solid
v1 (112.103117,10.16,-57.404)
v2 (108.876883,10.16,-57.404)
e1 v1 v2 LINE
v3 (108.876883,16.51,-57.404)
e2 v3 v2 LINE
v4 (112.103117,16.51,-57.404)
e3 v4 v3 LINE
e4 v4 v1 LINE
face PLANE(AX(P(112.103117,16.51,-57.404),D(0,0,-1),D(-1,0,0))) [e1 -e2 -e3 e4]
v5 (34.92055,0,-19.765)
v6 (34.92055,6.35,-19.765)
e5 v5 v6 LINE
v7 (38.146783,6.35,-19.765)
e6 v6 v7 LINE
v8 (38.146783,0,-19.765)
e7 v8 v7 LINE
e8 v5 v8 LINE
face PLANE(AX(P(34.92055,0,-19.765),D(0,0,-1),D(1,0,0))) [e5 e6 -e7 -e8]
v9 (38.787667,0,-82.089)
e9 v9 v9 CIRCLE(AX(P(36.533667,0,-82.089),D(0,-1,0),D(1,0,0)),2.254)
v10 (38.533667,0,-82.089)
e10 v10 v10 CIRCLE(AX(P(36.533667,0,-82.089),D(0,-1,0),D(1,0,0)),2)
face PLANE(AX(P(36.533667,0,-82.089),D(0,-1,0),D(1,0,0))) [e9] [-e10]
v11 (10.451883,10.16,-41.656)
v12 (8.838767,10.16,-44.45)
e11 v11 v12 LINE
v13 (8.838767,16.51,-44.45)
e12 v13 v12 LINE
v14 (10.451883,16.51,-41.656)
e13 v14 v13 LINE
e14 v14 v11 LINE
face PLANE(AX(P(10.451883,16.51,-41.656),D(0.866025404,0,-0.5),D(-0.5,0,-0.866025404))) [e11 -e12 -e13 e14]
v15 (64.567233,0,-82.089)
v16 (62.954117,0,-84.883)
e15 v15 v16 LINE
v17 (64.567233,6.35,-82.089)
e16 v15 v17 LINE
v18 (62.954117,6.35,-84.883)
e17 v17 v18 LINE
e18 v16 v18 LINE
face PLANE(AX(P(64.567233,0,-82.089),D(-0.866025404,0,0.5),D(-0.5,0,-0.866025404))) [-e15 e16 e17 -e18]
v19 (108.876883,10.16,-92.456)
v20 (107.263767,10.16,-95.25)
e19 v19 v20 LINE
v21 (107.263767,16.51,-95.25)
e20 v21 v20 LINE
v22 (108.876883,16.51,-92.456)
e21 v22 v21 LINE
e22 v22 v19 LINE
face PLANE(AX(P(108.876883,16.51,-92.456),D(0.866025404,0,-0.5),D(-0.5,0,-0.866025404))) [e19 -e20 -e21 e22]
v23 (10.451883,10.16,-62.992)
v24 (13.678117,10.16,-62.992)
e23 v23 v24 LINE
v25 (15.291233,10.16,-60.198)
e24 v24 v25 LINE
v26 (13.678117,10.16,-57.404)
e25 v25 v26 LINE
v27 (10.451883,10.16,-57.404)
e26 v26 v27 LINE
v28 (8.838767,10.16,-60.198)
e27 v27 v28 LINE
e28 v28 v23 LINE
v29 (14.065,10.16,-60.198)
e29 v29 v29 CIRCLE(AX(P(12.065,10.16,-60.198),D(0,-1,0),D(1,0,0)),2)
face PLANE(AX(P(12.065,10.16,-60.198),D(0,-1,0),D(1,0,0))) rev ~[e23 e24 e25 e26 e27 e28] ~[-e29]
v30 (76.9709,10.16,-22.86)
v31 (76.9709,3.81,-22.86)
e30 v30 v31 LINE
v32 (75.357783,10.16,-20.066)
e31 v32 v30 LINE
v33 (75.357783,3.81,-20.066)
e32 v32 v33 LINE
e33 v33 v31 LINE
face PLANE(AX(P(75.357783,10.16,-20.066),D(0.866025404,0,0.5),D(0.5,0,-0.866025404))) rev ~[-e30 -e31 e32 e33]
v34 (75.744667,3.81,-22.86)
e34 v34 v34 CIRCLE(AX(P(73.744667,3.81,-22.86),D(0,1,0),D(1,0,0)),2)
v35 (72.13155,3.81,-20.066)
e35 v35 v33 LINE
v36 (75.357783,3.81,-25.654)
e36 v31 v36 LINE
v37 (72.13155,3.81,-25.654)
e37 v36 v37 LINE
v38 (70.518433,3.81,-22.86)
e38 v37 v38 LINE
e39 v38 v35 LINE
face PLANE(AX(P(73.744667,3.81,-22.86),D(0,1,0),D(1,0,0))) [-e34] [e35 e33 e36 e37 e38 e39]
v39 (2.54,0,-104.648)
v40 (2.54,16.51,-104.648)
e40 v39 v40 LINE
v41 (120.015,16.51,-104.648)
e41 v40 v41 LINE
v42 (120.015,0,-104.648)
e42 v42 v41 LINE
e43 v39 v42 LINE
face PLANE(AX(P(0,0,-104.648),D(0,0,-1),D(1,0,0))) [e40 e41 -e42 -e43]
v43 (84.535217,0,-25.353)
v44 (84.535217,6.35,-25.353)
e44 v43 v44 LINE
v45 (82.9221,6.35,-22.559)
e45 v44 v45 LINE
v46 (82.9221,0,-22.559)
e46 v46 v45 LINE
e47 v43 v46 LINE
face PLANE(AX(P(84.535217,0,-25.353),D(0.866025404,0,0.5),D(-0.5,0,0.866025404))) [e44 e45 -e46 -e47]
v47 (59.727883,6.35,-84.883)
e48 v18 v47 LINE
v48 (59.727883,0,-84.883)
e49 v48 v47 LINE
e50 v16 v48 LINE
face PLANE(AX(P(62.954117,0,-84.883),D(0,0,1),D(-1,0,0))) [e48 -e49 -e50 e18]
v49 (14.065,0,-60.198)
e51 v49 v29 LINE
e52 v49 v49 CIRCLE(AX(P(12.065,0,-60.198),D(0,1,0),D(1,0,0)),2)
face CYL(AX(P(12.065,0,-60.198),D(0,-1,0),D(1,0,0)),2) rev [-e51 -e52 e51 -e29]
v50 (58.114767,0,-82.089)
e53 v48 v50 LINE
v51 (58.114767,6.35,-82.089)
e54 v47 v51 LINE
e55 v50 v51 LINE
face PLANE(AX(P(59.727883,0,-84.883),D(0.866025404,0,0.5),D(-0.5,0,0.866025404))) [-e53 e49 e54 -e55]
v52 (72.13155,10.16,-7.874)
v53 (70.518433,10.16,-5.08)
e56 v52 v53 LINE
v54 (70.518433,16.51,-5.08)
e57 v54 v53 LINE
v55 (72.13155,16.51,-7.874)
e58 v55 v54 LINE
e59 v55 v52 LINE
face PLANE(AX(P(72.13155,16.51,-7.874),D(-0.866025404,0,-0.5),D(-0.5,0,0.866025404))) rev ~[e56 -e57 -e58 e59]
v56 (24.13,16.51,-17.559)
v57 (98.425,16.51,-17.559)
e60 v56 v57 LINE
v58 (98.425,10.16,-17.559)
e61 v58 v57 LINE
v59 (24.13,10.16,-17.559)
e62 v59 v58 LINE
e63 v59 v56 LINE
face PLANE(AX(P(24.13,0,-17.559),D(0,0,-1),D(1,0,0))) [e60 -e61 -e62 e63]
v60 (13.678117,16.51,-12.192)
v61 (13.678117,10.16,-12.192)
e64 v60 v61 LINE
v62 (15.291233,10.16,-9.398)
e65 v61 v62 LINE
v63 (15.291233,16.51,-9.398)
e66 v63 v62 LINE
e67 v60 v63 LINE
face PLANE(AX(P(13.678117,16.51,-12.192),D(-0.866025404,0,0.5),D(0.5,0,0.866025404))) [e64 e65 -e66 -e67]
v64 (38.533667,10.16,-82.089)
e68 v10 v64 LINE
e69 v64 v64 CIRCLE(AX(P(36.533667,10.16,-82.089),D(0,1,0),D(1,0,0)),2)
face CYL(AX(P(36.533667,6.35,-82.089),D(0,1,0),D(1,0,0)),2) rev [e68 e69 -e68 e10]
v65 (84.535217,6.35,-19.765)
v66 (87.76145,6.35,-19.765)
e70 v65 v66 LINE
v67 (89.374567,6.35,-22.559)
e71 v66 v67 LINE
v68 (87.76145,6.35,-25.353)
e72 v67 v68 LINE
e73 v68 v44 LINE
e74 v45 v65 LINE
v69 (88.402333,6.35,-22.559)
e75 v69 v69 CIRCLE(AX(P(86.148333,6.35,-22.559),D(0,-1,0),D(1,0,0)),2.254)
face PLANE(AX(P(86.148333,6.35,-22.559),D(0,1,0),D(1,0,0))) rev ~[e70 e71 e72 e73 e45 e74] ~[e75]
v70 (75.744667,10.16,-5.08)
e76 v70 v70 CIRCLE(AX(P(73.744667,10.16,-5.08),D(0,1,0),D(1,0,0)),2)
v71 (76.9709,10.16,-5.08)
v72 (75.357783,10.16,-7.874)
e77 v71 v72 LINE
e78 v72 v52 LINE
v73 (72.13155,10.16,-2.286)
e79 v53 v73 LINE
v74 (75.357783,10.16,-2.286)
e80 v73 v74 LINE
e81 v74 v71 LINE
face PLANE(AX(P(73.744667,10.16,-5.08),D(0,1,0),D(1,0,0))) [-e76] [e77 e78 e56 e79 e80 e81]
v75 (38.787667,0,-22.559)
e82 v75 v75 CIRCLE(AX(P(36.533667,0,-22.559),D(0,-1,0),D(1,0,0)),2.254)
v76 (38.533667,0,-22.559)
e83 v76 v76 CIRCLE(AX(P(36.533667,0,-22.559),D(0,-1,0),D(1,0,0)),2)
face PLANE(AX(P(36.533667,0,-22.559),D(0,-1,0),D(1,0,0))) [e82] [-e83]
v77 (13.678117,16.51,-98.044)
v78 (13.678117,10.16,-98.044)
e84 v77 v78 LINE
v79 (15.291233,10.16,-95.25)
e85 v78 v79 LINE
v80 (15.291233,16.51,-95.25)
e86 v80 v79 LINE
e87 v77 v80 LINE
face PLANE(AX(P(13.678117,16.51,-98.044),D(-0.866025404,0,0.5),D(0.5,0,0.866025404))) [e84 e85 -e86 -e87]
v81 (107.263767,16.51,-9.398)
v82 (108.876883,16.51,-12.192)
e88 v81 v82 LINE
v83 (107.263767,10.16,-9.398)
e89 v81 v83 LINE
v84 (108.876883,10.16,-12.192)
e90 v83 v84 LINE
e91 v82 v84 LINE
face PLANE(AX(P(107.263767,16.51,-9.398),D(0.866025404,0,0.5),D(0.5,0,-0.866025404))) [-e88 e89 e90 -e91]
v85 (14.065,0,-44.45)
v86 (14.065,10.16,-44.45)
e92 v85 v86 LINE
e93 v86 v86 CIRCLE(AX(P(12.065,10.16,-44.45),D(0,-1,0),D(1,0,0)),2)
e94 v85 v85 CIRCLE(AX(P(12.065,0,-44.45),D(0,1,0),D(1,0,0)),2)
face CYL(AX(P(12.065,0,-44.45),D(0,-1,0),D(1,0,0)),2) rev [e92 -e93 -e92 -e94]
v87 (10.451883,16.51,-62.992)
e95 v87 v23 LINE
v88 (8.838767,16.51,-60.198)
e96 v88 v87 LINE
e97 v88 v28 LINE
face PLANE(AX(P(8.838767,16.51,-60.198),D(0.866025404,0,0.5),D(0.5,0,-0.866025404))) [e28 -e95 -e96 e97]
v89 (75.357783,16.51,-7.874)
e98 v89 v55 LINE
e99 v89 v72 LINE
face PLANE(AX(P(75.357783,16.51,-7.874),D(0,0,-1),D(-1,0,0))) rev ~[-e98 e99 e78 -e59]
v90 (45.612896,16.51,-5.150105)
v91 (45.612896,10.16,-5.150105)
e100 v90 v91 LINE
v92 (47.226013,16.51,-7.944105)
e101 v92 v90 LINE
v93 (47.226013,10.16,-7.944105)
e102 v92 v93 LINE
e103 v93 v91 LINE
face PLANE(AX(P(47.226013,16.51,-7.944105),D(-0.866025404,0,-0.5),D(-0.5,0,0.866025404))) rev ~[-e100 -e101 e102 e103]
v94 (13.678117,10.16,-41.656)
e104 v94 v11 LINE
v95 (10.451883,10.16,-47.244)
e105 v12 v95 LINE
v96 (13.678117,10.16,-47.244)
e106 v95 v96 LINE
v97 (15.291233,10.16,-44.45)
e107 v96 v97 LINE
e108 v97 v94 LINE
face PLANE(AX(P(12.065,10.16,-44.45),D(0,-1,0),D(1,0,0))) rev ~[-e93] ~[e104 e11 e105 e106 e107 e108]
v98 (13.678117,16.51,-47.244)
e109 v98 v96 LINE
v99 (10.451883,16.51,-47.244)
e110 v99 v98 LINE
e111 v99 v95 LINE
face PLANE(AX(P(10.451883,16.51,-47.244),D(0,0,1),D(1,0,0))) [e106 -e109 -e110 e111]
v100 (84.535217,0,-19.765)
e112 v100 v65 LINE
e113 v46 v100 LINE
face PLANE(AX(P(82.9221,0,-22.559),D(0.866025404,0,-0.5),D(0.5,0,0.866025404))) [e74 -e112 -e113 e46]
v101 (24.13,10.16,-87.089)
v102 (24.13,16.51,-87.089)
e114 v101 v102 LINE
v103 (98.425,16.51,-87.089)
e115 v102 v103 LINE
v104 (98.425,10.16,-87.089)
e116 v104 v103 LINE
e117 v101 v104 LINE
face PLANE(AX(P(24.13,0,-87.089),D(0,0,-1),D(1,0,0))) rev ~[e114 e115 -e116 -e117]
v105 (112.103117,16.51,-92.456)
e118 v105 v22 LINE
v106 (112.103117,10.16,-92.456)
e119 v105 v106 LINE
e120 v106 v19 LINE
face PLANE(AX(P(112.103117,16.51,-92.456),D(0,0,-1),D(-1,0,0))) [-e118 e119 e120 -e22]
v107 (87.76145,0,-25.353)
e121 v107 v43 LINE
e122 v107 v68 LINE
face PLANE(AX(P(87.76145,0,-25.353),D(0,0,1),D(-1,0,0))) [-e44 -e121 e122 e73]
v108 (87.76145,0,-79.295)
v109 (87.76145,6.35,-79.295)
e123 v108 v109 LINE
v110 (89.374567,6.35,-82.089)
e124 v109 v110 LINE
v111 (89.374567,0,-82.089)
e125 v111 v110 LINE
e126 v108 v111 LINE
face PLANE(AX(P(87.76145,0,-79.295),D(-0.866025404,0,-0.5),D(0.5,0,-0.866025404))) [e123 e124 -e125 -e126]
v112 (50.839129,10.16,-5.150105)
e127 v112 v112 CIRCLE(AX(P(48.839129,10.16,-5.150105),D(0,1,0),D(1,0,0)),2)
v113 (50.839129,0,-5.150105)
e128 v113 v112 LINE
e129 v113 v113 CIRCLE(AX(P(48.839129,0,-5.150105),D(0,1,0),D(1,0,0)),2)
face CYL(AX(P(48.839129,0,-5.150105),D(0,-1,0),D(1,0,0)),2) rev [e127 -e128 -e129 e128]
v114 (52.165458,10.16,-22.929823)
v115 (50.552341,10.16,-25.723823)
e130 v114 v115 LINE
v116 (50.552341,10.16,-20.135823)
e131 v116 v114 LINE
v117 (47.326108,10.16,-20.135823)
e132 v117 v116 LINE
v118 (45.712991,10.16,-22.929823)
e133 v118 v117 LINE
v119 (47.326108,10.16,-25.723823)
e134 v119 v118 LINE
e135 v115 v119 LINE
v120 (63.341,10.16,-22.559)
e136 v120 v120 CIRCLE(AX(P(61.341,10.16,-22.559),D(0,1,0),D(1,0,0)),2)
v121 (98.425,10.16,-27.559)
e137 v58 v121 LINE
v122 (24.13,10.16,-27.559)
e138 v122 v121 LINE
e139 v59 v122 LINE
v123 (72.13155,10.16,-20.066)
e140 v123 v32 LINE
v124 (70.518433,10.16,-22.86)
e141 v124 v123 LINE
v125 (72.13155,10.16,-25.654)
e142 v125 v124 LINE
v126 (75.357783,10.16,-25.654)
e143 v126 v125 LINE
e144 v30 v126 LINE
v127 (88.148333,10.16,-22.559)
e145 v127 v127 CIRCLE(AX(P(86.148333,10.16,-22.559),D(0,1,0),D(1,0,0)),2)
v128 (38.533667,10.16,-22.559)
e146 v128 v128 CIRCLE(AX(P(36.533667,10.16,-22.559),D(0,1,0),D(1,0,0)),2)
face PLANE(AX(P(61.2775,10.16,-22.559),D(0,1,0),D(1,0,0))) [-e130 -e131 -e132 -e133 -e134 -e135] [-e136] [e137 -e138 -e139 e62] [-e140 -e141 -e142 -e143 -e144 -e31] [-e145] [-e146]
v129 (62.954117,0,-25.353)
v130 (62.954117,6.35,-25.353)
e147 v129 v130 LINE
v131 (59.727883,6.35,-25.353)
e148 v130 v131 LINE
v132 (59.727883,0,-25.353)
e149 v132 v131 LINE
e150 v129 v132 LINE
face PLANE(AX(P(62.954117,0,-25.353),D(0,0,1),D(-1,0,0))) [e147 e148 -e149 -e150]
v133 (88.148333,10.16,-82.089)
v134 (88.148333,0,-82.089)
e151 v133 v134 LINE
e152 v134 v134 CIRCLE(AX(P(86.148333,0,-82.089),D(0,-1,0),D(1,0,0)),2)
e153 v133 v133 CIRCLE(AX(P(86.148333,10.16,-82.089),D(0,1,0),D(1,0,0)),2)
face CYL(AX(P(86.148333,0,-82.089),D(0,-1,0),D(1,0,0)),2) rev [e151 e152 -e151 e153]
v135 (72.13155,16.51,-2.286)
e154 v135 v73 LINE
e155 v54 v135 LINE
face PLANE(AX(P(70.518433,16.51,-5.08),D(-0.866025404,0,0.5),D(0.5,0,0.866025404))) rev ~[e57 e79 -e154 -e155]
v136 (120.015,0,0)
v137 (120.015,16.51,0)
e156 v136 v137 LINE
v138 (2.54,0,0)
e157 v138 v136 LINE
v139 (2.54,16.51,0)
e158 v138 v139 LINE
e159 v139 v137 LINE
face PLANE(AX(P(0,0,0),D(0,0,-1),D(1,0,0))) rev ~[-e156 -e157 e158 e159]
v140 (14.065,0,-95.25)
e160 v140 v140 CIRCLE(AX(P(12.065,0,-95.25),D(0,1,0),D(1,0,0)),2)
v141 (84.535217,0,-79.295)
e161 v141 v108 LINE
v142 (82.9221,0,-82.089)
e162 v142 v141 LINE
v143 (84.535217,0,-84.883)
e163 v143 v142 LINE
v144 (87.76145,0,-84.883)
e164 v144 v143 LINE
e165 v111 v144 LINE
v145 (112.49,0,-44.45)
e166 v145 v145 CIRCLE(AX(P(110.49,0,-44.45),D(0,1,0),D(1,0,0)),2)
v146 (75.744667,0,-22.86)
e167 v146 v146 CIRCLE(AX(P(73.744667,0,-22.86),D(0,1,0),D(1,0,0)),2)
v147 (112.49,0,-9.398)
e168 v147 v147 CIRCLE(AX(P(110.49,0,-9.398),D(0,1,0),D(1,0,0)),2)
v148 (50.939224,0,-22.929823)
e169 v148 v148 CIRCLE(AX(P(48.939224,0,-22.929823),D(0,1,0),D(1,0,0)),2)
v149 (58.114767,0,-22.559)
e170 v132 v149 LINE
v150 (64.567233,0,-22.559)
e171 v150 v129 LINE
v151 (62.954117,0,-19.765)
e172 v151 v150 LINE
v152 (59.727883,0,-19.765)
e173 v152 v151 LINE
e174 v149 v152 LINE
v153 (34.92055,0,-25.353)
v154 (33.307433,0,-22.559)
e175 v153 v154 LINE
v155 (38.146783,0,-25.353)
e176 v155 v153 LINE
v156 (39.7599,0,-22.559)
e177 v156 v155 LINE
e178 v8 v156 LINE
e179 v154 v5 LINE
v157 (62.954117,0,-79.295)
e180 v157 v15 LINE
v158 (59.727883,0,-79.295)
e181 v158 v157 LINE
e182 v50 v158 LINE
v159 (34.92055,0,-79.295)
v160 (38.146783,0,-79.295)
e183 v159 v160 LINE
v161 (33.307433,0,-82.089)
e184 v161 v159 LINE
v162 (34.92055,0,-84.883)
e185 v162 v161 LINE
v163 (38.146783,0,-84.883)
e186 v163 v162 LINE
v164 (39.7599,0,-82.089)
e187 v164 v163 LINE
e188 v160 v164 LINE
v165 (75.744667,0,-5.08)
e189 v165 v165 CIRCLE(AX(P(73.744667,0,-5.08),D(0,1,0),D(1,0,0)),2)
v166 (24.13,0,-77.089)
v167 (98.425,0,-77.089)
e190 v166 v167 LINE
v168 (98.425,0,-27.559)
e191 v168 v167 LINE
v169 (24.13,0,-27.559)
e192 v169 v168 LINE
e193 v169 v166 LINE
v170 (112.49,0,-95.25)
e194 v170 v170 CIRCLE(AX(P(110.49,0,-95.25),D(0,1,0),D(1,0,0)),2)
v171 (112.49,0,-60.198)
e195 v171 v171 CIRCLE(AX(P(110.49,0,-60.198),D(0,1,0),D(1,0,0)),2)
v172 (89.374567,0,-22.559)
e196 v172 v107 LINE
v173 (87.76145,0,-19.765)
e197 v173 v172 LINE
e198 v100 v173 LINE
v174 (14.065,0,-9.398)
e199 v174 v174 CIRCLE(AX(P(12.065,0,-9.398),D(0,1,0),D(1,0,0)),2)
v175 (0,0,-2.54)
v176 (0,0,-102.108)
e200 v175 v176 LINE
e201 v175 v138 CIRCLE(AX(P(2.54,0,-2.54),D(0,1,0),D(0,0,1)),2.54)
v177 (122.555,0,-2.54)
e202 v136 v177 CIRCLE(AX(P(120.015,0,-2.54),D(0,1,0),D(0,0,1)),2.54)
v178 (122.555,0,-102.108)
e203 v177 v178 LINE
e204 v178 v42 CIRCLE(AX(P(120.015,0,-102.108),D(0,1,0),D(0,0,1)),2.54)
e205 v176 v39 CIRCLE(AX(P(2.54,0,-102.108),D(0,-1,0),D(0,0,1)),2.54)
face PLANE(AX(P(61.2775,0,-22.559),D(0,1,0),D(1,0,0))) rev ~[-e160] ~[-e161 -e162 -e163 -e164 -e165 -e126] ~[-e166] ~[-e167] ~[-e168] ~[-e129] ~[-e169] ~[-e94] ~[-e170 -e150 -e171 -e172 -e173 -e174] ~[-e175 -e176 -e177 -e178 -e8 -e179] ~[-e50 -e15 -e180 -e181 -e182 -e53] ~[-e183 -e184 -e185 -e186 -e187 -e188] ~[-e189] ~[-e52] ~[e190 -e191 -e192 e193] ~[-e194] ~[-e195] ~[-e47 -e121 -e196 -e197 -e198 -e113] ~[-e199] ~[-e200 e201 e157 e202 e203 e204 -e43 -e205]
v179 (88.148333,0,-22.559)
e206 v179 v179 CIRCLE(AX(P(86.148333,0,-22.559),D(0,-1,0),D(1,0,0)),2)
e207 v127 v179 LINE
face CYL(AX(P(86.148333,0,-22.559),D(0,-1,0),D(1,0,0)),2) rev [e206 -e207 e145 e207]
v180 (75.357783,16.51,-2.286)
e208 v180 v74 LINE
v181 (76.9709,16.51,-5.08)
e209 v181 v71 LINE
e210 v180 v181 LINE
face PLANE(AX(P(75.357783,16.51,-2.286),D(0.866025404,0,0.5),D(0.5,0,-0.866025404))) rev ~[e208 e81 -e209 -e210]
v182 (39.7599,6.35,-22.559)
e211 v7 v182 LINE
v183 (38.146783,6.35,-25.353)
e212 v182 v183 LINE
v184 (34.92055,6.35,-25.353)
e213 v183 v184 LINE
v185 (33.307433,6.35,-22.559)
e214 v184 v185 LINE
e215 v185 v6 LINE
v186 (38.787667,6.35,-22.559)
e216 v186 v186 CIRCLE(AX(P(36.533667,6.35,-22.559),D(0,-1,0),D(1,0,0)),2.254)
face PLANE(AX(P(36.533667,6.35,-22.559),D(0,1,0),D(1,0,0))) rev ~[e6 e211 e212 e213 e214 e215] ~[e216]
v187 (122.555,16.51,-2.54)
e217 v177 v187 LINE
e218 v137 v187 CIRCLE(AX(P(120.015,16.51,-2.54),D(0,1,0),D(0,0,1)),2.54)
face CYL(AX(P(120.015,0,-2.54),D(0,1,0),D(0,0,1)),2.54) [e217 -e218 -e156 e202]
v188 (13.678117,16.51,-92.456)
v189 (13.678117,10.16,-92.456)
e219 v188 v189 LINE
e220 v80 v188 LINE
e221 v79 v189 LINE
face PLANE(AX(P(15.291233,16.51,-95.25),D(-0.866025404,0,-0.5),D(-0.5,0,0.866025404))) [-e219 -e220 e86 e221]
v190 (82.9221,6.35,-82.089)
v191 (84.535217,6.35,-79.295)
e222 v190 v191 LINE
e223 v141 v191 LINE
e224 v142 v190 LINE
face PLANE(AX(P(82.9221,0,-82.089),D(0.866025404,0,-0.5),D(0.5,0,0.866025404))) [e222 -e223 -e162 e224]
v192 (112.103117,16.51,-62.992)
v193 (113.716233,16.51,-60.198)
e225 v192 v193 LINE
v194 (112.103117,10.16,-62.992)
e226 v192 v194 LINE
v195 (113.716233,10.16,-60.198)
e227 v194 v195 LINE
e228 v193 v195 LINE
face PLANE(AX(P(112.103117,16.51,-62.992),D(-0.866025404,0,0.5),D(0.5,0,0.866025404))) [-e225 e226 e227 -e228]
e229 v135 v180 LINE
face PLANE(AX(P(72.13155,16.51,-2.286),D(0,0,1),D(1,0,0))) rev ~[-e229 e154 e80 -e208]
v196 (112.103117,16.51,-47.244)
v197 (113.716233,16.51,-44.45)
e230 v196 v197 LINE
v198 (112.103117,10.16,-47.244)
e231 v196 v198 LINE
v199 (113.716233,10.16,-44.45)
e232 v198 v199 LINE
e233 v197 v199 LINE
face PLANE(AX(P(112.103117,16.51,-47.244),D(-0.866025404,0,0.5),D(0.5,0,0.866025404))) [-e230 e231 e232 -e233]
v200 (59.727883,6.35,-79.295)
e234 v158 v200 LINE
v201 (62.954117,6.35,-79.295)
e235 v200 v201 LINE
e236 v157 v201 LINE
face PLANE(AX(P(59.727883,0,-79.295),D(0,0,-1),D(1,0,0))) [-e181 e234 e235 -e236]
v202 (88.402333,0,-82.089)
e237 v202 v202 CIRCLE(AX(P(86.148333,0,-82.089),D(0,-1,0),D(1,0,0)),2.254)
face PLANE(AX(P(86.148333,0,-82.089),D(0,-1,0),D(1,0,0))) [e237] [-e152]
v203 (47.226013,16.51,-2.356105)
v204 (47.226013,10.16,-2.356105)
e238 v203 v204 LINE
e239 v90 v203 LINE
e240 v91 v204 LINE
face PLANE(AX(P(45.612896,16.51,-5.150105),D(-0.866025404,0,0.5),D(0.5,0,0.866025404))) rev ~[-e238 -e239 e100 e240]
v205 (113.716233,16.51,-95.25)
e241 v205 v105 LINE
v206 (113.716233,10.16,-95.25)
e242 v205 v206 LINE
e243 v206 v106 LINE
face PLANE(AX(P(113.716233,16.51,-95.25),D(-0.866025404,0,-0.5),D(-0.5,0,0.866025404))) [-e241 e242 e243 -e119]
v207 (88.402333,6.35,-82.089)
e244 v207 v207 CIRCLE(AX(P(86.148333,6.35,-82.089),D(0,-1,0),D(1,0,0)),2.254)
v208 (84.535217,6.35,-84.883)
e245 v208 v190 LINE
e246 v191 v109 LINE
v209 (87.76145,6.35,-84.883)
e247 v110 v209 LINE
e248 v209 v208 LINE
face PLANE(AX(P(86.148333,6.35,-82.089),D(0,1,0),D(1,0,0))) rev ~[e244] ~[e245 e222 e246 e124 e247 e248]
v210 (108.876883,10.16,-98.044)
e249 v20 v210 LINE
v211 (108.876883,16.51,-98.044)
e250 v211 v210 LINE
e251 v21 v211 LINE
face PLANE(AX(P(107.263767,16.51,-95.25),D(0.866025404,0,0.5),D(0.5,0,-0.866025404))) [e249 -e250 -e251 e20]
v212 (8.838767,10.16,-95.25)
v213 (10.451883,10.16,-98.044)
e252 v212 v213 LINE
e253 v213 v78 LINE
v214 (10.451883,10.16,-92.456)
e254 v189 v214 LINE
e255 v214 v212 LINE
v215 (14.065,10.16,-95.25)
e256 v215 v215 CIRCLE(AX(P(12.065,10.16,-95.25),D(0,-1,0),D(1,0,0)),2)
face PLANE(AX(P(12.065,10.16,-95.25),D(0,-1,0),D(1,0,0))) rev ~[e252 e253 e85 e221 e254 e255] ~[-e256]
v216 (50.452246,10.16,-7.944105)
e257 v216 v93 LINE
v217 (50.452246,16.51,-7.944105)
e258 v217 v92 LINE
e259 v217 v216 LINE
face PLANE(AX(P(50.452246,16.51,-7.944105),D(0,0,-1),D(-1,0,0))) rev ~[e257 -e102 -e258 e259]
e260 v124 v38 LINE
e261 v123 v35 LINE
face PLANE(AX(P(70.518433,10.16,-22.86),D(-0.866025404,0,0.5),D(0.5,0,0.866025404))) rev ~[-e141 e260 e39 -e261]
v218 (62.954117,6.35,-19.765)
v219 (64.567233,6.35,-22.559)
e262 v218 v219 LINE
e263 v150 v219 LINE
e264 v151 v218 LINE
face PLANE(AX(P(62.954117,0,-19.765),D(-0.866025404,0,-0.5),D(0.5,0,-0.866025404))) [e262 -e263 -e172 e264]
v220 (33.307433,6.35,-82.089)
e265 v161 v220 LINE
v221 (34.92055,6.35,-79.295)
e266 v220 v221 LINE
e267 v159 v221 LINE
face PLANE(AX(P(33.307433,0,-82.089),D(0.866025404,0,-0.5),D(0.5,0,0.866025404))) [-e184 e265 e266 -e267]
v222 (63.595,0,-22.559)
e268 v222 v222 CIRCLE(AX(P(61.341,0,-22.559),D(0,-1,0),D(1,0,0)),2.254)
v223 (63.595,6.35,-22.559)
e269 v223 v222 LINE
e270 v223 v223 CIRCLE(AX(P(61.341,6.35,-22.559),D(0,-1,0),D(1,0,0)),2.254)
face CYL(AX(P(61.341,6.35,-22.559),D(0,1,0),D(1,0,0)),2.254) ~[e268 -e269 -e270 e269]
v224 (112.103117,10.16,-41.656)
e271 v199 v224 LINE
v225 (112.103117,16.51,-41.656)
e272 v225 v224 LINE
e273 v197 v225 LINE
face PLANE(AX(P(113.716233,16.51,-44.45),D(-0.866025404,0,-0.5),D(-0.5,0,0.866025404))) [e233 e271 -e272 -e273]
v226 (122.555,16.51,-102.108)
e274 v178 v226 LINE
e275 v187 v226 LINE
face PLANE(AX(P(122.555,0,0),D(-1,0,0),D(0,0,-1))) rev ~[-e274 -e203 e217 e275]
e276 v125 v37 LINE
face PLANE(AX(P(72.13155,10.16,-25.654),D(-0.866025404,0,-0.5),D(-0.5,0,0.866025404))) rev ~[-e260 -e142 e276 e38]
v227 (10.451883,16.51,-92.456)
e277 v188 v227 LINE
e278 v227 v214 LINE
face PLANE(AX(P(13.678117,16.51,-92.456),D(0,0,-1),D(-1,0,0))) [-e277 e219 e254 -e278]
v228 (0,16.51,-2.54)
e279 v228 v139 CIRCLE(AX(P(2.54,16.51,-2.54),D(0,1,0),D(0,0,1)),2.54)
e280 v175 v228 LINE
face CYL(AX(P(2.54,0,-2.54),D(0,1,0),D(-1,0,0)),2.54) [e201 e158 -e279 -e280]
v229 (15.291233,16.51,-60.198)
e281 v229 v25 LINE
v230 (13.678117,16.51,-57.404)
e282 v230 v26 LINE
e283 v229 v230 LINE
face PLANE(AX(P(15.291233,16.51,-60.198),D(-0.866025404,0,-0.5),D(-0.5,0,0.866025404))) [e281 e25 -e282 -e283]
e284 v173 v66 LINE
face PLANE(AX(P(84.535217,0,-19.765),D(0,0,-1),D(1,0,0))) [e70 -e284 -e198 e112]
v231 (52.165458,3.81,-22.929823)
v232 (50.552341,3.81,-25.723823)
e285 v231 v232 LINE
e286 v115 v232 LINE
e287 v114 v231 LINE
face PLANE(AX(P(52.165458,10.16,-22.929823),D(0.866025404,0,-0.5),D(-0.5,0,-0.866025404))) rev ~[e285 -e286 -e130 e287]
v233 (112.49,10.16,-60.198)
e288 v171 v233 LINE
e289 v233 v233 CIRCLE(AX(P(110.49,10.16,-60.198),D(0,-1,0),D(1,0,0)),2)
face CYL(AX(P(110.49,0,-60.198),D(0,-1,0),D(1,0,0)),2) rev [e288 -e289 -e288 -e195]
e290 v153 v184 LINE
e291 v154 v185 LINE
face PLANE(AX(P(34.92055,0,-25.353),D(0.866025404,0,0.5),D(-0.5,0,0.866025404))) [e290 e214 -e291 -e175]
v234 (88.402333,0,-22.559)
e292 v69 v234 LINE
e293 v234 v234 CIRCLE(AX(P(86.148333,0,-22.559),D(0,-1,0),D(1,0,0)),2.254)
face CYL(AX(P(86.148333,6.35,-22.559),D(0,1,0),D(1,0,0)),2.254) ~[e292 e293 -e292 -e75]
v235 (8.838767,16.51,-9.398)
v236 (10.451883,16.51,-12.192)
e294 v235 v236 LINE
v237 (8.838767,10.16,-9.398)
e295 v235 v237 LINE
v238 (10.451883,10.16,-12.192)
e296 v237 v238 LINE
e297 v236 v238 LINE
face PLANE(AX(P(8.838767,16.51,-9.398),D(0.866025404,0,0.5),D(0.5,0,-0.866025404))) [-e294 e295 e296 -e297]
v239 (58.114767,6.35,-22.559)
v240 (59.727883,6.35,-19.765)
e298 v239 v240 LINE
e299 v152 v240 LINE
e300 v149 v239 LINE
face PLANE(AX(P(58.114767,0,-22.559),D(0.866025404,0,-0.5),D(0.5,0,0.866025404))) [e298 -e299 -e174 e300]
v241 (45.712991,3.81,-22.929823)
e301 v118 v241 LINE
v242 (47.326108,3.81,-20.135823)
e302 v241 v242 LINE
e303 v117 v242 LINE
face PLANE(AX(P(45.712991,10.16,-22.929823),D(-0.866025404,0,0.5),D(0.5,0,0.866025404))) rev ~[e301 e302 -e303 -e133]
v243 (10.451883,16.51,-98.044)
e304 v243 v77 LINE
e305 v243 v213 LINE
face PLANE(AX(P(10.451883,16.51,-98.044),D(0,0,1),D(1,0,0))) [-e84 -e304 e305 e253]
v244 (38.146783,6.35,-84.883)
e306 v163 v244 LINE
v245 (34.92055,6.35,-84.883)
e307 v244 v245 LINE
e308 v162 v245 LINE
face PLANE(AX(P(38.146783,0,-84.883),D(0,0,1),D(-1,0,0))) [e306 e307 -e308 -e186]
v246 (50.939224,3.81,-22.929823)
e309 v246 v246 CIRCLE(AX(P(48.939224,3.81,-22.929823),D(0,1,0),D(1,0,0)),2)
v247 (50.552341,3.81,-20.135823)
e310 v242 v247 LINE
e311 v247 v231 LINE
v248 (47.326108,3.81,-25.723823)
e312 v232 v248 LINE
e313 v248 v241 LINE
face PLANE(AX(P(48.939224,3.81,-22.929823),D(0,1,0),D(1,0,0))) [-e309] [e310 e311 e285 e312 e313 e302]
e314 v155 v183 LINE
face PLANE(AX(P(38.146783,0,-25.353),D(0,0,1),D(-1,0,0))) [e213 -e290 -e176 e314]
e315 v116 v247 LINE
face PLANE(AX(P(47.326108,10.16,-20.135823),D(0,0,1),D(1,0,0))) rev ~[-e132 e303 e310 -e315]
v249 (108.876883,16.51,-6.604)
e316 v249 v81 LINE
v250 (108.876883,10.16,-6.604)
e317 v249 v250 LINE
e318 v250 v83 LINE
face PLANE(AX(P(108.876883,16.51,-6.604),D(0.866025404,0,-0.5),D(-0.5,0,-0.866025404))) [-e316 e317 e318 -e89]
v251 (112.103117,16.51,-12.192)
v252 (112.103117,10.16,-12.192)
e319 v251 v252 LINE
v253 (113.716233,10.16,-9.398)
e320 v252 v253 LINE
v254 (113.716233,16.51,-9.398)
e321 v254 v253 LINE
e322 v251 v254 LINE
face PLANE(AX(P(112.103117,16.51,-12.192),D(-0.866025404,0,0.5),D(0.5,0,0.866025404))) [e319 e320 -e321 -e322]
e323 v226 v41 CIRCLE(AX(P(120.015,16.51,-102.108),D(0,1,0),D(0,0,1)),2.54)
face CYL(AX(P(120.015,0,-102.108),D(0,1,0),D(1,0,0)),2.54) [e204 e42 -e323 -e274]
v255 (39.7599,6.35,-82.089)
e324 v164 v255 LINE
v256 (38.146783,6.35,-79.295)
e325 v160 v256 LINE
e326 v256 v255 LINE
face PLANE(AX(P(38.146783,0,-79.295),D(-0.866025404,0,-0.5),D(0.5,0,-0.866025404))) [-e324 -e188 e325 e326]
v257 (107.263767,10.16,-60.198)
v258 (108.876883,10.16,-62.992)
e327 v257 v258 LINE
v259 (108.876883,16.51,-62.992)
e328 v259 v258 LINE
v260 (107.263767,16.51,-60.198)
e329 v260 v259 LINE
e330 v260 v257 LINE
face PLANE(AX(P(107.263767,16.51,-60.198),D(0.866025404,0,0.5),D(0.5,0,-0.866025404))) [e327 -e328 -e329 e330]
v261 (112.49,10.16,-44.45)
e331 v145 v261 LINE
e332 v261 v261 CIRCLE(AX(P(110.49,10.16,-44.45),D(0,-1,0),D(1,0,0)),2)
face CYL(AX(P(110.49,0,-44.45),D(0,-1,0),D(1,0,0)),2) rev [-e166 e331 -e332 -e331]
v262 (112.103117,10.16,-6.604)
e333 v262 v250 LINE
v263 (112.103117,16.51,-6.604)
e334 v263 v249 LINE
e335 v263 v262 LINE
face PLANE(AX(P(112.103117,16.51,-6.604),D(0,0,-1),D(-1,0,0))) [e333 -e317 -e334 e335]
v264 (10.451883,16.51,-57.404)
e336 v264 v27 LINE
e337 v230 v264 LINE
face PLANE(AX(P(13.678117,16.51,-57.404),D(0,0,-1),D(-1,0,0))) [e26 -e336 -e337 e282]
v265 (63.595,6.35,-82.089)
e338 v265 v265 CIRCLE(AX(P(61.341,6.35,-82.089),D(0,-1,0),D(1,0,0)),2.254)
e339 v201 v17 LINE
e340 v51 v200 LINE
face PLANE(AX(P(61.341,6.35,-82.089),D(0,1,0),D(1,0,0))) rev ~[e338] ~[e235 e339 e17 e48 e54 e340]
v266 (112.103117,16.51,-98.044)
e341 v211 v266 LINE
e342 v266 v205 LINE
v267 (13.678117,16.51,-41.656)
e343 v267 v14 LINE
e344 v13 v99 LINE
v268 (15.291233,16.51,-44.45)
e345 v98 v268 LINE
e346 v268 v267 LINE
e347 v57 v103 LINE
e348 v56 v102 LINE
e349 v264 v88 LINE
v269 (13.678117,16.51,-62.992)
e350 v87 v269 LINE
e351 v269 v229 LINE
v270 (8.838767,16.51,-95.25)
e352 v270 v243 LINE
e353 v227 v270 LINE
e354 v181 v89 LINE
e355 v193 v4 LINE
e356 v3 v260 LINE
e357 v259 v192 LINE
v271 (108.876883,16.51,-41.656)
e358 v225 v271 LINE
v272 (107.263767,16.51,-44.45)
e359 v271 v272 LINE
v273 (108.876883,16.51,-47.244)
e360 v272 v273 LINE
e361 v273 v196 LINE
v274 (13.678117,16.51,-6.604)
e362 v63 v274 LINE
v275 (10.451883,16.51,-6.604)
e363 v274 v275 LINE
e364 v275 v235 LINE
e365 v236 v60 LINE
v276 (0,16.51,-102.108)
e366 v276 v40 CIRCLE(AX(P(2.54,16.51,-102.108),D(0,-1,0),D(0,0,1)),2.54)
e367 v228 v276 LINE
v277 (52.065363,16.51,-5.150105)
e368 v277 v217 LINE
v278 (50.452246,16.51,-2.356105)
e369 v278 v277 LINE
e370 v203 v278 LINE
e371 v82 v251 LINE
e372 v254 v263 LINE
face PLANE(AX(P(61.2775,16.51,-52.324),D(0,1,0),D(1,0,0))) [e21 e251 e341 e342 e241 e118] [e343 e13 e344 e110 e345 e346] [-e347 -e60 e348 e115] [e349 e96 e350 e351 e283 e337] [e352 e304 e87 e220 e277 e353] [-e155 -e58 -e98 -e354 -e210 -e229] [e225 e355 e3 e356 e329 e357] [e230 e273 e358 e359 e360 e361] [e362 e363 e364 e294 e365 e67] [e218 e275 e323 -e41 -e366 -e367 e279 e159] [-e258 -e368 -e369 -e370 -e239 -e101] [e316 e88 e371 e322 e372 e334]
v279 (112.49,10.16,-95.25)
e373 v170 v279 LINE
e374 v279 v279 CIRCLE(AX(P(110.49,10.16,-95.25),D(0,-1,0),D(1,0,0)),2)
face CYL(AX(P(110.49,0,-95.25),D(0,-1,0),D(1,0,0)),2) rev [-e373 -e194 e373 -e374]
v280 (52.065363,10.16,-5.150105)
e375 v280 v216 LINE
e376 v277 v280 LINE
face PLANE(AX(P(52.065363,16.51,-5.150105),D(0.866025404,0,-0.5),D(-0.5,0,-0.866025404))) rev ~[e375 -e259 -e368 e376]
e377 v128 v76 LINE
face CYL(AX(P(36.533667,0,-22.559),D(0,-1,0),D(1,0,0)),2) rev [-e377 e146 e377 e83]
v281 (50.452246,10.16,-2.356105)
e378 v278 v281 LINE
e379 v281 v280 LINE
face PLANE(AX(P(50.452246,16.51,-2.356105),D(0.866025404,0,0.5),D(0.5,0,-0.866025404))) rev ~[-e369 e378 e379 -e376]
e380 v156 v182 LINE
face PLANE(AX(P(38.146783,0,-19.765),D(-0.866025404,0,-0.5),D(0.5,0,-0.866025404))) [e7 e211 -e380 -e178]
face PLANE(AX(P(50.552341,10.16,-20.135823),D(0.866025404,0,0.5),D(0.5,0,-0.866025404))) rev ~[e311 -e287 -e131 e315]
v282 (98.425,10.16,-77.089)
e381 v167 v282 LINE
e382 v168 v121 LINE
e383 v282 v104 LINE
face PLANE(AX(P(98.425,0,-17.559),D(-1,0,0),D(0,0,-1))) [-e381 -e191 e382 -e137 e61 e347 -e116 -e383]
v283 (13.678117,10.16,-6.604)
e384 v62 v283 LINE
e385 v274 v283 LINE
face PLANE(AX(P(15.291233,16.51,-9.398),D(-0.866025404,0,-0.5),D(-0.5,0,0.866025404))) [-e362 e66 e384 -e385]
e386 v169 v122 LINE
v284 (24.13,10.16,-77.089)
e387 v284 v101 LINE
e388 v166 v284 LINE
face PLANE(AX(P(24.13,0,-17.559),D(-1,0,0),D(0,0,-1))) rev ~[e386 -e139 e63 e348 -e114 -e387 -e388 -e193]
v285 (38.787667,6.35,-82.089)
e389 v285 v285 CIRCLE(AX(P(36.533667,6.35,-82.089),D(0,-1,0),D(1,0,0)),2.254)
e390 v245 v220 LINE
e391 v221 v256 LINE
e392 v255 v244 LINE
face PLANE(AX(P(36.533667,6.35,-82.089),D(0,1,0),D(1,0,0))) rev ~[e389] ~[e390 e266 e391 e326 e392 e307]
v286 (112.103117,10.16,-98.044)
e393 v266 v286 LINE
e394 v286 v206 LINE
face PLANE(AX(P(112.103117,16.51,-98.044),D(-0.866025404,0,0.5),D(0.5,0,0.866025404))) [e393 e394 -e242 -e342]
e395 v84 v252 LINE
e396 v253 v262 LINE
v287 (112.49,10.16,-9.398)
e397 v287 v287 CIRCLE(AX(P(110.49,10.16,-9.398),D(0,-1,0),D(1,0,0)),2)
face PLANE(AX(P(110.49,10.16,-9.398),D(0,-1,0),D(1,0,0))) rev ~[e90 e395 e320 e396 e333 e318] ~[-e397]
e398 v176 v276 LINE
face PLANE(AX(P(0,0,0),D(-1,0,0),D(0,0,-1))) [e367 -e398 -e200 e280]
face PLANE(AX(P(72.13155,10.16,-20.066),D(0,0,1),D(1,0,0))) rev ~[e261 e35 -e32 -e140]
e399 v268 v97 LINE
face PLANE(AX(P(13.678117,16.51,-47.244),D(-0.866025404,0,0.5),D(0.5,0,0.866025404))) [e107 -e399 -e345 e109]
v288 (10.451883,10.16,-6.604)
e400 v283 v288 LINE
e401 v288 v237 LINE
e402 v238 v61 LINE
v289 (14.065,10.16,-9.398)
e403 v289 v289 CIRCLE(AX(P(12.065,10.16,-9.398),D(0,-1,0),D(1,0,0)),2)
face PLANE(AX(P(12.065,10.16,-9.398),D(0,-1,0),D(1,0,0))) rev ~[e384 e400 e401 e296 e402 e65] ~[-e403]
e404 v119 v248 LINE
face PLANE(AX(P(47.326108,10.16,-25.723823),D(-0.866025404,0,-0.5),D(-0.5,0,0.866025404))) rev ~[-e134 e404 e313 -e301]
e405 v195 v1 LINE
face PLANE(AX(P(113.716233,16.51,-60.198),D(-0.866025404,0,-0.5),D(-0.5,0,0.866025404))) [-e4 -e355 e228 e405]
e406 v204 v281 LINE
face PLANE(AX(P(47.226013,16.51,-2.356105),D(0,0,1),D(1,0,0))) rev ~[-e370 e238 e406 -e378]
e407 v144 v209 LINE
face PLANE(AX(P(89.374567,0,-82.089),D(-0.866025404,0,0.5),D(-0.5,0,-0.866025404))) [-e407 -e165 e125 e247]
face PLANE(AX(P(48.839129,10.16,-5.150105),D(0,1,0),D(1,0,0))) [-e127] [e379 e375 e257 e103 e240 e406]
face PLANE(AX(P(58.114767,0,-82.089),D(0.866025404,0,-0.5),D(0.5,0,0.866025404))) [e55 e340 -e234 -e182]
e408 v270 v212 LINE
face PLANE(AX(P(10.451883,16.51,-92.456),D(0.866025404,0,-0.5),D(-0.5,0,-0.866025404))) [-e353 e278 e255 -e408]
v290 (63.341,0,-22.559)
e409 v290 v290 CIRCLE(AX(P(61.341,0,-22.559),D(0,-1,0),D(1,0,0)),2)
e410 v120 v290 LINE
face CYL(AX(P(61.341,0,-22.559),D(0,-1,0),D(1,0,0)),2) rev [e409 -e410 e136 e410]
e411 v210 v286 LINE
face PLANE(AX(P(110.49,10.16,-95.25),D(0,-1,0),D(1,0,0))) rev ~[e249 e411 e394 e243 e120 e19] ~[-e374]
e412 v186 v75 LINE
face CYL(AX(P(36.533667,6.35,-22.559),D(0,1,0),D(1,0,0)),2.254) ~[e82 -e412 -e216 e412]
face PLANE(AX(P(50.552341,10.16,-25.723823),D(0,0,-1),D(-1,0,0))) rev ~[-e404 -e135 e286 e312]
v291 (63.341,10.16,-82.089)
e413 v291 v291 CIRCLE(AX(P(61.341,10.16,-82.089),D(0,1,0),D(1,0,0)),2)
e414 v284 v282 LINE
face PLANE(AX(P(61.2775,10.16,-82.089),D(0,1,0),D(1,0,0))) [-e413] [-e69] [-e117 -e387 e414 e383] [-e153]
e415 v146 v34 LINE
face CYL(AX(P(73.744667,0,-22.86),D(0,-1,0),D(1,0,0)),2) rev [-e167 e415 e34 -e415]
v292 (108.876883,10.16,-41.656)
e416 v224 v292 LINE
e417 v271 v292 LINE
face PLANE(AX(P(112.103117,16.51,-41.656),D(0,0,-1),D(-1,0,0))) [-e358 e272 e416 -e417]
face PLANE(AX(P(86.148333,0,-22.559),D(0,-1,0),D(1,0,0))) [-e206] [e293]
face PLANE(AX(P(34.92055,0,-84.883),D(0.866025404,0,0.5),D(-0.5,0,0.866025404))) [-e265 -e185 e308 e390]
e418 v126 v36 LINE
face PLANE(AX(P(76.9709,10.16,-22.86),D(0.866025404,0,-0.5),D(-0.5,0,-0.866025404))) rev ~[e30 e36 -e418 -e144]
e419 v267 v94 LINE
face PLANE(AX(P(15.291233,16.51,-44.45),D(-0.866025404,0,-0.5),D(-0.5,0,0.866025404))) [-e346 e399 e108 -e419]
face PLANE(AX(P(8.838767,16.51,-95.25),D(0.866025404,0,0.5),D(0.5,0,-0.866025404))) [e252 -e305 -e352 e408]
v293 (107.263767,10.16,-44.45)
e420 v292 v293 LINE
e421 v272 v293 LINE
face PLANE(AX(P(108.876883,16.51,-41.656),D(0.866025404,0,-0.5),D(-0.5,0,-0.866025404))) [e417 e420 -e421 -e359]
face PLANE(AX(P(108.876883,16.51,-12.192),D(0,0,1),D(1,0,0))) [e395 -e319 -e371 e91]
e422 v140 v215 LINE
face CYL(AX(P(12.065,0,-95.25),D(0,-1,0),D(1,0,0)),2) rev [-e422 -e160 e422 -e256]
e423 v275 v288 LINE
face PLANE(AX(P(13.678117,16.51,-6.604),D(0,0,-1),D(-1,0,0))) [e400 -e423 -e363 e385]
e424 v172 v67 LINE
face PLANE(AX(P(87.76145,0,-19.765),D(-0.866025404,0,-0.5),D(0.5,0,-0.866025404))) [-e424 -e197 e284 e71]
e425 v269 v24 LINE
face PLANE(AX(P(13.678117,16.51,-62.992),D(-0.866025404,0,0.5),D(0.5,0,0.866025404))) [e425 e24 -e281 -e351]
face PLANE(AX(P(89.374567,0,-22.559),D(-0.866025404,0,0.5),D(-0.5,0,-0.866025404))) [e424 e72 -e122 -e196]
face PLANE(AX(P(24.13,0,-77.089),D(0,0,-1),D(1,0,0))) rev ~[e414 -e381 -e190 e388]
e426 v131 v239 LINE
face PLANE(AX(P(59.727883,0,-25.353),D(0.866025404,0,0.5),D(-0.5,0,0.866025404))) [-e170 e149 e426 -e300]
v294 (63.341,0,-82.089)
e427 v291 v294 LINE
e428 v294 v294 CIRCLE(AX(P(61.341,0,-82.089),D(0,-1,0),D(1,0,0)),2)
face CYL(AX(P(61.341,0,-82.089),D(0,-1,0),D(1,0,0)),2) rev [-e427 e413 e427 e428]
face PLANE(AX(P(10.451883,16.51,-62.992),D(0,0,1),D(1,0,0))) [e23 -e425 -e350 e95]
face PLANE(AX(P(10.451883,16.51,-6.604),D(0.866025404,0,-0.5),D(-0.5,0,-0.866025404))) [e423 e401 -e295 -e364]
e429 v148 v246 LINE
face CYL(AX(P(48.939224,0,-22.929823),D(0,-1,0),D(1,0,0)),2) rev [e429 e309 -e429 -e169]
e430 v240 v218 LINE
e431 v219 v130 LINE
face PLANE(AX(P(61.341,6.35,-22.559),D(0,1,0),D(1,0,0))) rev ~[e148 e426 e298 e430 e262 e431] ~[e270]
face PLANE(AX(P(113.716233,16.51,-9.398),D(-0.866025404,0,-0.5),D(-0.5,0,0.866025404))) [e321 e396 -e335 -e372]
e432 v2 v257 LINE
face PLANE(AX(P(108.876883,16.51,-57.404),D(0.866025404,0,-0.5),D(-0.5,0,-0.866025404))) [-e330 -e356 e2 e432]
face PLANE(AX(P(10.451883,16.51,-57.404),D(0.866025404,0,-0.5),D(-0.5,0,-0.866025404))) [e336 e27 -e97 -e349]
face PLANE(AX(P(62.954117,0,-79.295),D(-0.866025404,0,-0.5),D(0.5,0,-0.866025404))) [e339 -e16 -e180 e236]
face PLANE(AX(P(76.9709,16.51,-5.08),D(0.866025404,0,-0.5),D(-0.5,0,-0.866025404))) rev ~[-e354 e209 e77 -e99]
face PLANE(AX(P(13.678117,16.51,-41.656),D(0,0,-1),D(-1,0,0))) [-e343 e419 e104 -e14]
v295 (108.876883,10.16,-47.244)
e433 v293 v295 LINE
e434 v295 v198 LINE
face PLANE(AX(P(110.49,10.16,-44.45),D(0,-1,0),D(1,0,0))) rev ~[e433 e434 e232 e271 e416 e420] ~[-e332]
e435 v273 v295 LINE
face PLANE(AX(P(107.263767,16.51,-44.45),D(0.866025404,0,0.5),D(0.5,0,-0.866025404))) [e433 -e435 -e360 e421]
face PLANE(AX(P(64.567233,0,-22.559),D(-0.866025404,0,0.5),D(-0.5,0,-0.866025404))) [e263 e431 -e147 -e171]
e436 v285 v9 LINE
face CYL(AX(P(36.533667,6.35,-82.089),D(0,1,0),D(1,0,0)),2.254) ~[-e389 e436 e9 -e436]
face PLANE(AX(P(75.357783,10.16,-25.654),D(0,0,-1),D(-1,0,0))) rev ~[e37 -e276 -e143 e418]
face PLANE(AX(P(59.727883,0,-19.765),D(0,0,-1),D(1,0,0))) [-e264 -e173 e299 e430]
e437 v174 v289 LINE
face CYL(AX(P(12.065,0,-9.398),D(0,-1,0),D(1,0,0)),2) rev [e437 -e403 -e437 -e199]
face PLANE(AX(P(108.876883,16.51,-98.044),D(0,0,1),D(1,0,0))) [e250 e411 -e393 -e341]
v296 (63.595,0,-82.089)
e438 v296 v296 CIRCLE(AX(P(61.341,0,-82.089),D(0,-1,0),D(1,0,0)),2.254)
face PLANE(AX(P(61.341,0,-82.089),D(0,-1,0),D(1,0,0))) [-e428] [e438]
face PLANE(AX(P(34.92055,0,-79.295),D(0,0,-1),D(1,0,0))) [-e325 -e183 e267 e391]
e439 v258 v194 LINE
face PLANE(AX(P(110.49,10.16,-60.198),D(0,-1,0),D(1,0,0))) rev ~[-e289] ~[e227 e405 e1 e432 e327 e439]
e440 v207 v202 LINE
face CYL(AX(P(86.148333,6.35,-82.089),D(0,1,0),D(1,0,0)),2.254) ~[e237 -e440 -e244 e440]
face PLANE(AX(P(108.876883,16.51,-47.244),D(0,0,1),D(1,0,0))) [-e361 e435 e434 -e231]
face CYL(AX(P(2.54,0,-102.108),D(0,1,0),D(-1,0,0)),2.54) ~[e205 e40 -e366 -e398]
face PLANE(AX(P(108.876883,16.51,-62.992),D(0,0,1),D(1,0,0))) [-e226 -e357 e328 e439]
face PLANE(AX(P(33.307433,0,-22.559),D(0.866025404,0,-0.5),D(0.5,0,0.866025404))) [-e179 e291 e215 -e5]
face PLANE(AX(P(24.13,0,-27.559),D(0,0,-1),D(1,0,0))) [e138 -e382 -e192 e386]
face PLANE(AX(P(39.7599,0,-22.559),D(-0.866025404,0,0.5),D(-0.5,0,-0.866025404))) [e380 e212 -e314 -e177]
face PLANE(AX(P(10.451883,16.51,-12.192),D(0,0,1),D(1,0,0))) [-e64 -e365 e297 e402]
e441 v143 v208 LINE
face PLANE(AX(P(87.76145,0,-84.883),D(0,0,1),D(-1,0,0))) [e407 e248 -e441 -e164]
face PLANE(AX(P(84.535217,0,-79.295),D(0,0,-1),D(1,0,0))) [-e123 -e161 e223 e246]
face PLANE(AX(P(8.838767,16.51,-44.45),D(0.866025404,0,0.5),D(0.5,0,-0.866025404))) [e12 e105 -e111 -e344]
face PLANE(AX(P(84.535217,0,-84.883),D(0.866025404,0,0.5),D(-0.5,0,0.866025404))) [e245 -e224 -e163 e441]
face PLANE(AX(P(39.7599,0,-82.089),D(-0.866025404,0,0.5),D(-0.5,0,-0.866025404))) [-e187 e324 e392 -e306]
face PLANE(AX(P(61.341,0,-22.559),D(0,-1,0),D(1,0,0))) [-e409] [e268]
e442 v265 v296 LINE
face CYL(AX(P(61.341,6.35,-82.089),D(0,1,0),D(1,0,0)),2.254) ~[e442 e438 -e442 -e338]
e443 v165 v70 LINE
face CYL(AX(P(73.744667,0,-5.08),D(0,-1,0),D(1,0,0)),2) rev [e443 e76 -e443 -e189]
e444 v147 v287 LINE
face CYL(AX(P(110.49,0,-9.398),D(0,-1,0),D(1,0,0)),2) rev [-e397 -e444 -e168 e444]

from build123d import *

# Parameters (mm, degrees)
SKETCH2_W               = 122.555
SKETCH2_H               = 104.648
SKETCH2_R               = 2
SKETCH2_W_2             = 74.295
SKETCH2_H_2             = 69.53
BOSS_EXTRUDE5_DEPTH     = 16.51
SKETCH2_4_W             = 74.295
SKETCH2_4_H             = 10
SKETCH2_4_R             = 2
BOSS_EXTRUDE7_DEPTH     = 10.16
CUT_EXTRUDE1_START      = -16.51
SKETCH3_R               = 2
CUT_EXTRUDE1_DEPTH      = 6.35
FILLET1_R               = 2.54
CUT_EXTRUDE2_START      = -10.16
SKETCH4_R               = 2
CUT_EXTRUDE2_DEPTH      = 6.35
SKETCH5_R               = 2
CUT_EXTRUDE3_DEPTH      = 6.35
SKETCH6_R               = 2
CUT_EXTRUDE4_DEPTH      = 6.35
SKETCH7_R               = 2.254
SKETCH7_R_2             = 2
SUPPORTS_3D_PRINT_DEPTH = 6.35


with BuildPart() as part:
    # Sketch2 → Boss-Extrude5 (new body)
    with BuildSketch(Plane(origin=(0, 0, 0), x_dir=(1, 0, 0), z_dir=(0, 1, 0))):
        with Locations((61.2775, 52.324)):
            Rectangle(SKETCH2_W, SKETCH2_H)
        with Locations((12.065, 95.25)):
            Circle(SKETCH2_R, mode=Mode.SUBTRACT)
        with Locations((12.065, 60.198)):
            Circle(SKETCH2_R, mode=Mode.SUBTRACT)
        with Locations((12.065, 44.45)):
            Circle(SKETCH2_R, mode=Mode.SUBTRACT)
        with Locations((12.065, 9.398)):
            Circle(SKETCH2_R, mode=Mode.SUBTRACT)
        with Locations((110.49, 9.398)):
            Circle(SKETCH2_R, mode=Mode.SUBTRACT)
        with Locations((110.49, 44.45)):
            Circle(SKETCH2_R, mode=Mode.SUBTRACT)
        with Locations((110.49, 60.198)):
            Circle(SKETCH2_R, mode=Mode.SUBTRACT)
        with Locations((110.49, 95.25)):
            Circle(SKETCH2_R, mode=Mode.SUBTRACT)
        with Locations((73.744666667, 5.08)):
            Circle(SKETCH2_R, mode=Mode.SUBTRACT)
        with Locations((48.839129454, 5.150105129)):
            Circle(SKETCH2_R, mode=Mode.SUBTRACT)
        with Locations((61.2775, 52.324)):
            Rectangle(SKETCH2_W_2, SKETCH2_H_2, mode=Mode.SUBTRACT)
    extrude(amount=BOSS_EXTRUDE5_DEPTH)

    # Sketch2<4> → Boss-Extrude7 (add)
    with BuildSketch(Plane(origin=(0, 0, 0), x_dir=(1, 0, 0), z_dir=(0, 1, 0))):
        with Locations((61.2775, 22.559)):
            Rectangle(SKETCH2_4_W, SKETCH2_4_H)
        with Locations((36.533666667, 22.559)):
            Circle(SKETCH2_4_R, mode=Mode.SUBTRACT)
        with Locations((48.939224409, 22.929823378)):
            Circle(SKETCH2_4_R, mode=Mode.SUBTRACT)
        with Locations((61.341, 22.559)):
            Circle(SKETCH2_4_R, mode=Mode.SUBTRACT)
        with Locations((73.744666667, 22.86)):
            Circle(SKETCH2_4_R, mode=Mode.SUBTRACT)
        with Locations((86.148333333, 22.559)):
            Circle(SKETCH2_4_R, mode=Mode.SUBTRACT)
        with Locations((61.2775, 82.089)):
            Rectangle(SKETCH2_4_W, SKETCH2_4_H)
        with Locations((36.533666667, 82.089)):
            Circle(SKETCH2_4_R, mode=Mode.SUBTRACT)
        with Locations((61.341, 82.089)):
            Circle(SKETCH2_4_R, mode=Mode.SUBTRACT)
        with Locations((86.148333333, 82.089)):
            Circle(SKETCH2_4_R, mode=Mode.SUBTRACT)
    extrude(amount=BOSS_EXTRUDE7_DEPTH)

    # Sketch3 → Cut-Extrude1 (cut)
    with BuildSketch(Plane.XZ.offset(CUT_EXTRUDE1_START)):
        Polygon((13.678116652, -6.604), (10.451883348, -6.604), (8.838766696, -9.398), (10.451883348, -12.192), (13.678116652, -12.192), (15.291233304, -9.398), align=None)
        with Locations((12.065, -9.398)):
            Circle(SKETCH3_R, mode=Mode.SUBTRACT)
        Polygon((13.678116652, -92.456), (10.451883348, -92.456), (8.838766696, -95.25), (10.451883348, -98.044), (13.678116652, -98.044), (15.291233304, -95.25), align=None)
        with Locations((12.065, -95.25)):
            Circle(SKETCH3_R, mode=Mode.SUBTRACT)
        Polygon((112.103116652, -92.456), (108.876883348, -92.456), (107.263766696, -95.25), (108.876883348, -98.044), (112.103116652, -98.044), (113.716233304, -95.25), align=None)
        with Locations((110.49, -95.25)):
            Circle(SKETCH3_R, mode=Mode.SUBTRACT)
        Polygon((108.876883348, -12.192), (112.103116652, -12.192), (113.716233304, -9.398), (112.103116652, -6.604), (108.876883348, -6.604), (107.263766696, -9.398), align=None)
        with Locations((110.49, -9.398)):
            Circle(SKETCH3_R, mode=Mode.SUBTRACT)
        Polygon((13.678116652, -62.992), (15.291233304, -60.198), (13.678116652, -57.404), (10.451883348, -57.404), (8.838766696, -60.198), (10.451883348, -62.992), align=None)
        with Locations((12.065, -60.198)):
            Circle(SKETCH3_R, mode=Mode.SUBTRACT)
        Polygon((8.838766696, -44.45), (10.451883348, -47.244), (13.678116652, -47.244), (15.291233304, -44.45), (13.678116652, -41.656), (10.451883348, -41.656), align=None)
        with Locations((12.065, -44.45)):
            Circle(SKETCH3_R, mode=Mode.SUBTRACT)
        Polygon((107.263766696, -44.45), (108.876883348, -47.244), (112.103116652, -47.244), (113.716233304, -44.45), (112.103116652, -41.656), (108.876883348, -41.656), align=None)
        with Locations((110.49, -44.45)):
            Circle(SKETCH3_R, mode=Mode.SUBTRACT)
        Polygon((108.876883348, -57.404), (107.263766696, -60.198), (108.876883348, -62.992), (112.103116652, -62.992), (113.716233304, -60.198), (112.103116652, -57.404), align=None)
        with Locations((110.49, -60.198)):
            Circle(SKETCH3_R, mode=Mode.SUBTRACT)
    extrude(amount=CUT_EXTRUDE1_DEPTH, mode=Mode.SUBTRACT)

    # Fillet1
    fillet1_edges = [part.edges().sort_by_distance(p)[0] for p in [
        (0, 8.255, 0),
        (0, 8.255, -104.648),
        (122.555, 8.255, -104.648),
        (122.555, 8.255, 0),
    ]]
    fillet(fillet1_edges, radius=FILLET1_R)

    # Sketch4 → Cut-Extrude2 (cut)
    with BuildSketch(Plane(origin=(0, 10.16, 0), x_dir=(1, 0, 0), z_dir=(0, 1, 0)).offset(CUT_EXTRUDE2_START)):
        Polygon((39.759899971, 22.559), (38.146783319, 25.353), (34.920550015, 25.353), (33.307433362, 22.559), (34.920550015, 19.765), (38.146783319, 19.765), align=None)
        with Locations((36.533666667, 22.559)):
            Circle(SKETCH4_R, mode=Mode.SUBTRACT)
        Polygon((58.114766696, 22.559), (59.727883348, 19.765), (62.954116652, 19.765), (64.567233304, 22.559), (62.954116652, 25.353), (59.727883348, 25.353), align=None)
        with Locations((61.341, 22.559)):
            Circle(SKETCH4_R, mode=Mode.SUBTRACT)
        Polygon((82.922100029, 22.559), (84.535216681, 19.765), (87.761449985, 19.765), (89.374566638, 22.559), (87.761449985, 25.353), (84.535216681, 25.353), align=None)
        with Locations((86.148333333, 22.559)):
            Circle(SKETCH4_R, mode=Mode.SUBTRACT)
        Polygon((82.922100029, 82.089), (84.535216681, 79.295), (87.761449985, 79.295), (89.374566638, 82.089), (87.761449985, 84.883), (84.535216681, 84.883), align=None)
        with Locations((86.148333333, 82.089)):
            Circle(SKETCH4_R, mode=Mode.SUBTRACT)
        Polygon((64.567233304, 82.089), (62.954116652, 84.883), (59.727883348, 84.883), (58.114766696, 82.089), (59.727883348, 79.295), (62.954116652, 79.295), align=None)
        with Locations((61.341, 82.089)):
            Circle(SKETCH4_R, mode=Mode.SUBTRACT)
        Polygon((39.759899971, 82.089), (38.146783319, 84.883), (34.920550015, 84.883), (33.307433362, 82.089), (34.920550015, 79.295), (38.146783319, 79.295), align=None)
        with Locations((36.533666667, 82.089)):
            Circle(SKETCH4_R, mode=Mode.SUBTRACT)
    extrude(amount=CUT_EXTRUDE2_DEPTH, mode=Mode.SUBTRACT)

    # Sketch5 → Cut-Extrude3 (cut)
    with BuildSketch(Plane(origin=(0, 10.16, 0), x_dir=(1, 0, 0), z_dir=(0, 1, 0))):
        with Locations((48.839129454, 5.150105129)):
            Circle(SKETCH5_R)
        with Locations((73.744666667, 5.08)):
            Circle(SKETCH5_R)
        Polygon((76.970899971, 22.86), (75.357783319, 25.654), (72.131550015, 25.654), (70.518433362, 22.86), (72.131550015, 20.066), (75.357783319, 20.066), align=None)
        with Locations((73.744666667, 22.86)):
            Circle(SKETCH5_R, mode=Mode.SUBTRACT)
        Polygon((52.165457714, 22.929823378), (50.552341061, 25.723823378), (47.326107757, 25.723823378), (45.712991105, 22.929823378), (47.326107757, 20.135823378), (50.552341061, 20.135823378), align=None)
        with Locations((48.939224409, 22.929823378)):
            Circle(SKETCH5_R, mode=Mode.SUBTRACT)
    extrude(amount=-CUT_EXTRUDE3_DEPTH, mode=Mode.SUBTRACT)

    # Sketch6 → Cut-Extrude4 (cut)
    with BuildSketch(Plane(origin=(0, 16.51, 0), x_dir=(1, 0, 0), z_dir=(0, 1, 0))):
        Polygon((70.518433362, 5.08), (72.131550015, 2.286), (75.357783319, 2.286), (76.970899971, 5.08), (75.357783319, 7.874), (72.131550015, 7.874), align=None)
        with Locations((73.744666667, 5.08)):
            Circle(SKETCH6_R, mode=Mode.SUBTRACT)
        Polygon((45.612896149, 5.150105129), (47.226012801, 2.356105129), (50.452246106, 2.356105129), (52.065362758, 5.150105129), (50.452246106, 7.944105129), (47.226012801, 7.944105129), align=None)
        with Locations((48.839129454, 5.150105129)):
            Circle(SKETCH6_R, mode=Mode.SUBTRACT)
    extrude(amount=-CUT_EXTRUDE4_DEPTH, mode=Mode.SUBTRACT)

    # Sketch7 → Supports - 3D Print (add)
    with BuildSketch(Plane.XZ.offset(-6.35)):
        with Locations((36.533666667, -82.089)):
            Circle(SKETCH7_R)
        with Locations((36.533666667, -82.089)):
            Circle(SKETCH7_R_2, mode=Mode.SUBTRACT)
        with Locations((61.341, -82.089)):
            Circle(SKETCH7_R)
        with Locations((61.341, -82.089)):
            Circle(SKETCH7_R_2, mode=Mode.SUBTRACT)
        with Locations((86.148333333, -82.089)):
            Circle(SKETCH7_R)
        with Locations((86.148333333, -82.089)):
            Circle(SKETCH7_R_2, mode=Mode.SUBTRACT)
        with Locations((86.148333333, -22.559)):
            Circle(SKETCH7_R)
        with Locations((86.148333333, -22.559)):
            Circle(SKETCH7_R_2, mode=Mode.SUBTRACT)
        with Locations((61.341, -22.559)):
            Circle(SKETCH7_R)
        with Locations((61.341, -22.559)):
            Circle(SKETCH7_R_2, mode=Mode.SUBTRACT)
        with Locations((36.533666667, -22.559)):
            Circle(SKETCH7_R)
        with Locations((36.533666667, -22.559)):
            Circle(SKETCH7_R_2, mode=Mode.SUBTRACT)
    extrude(amount=SUPPORTS_3D_PRINT_DEPTH)


solid = part.part
